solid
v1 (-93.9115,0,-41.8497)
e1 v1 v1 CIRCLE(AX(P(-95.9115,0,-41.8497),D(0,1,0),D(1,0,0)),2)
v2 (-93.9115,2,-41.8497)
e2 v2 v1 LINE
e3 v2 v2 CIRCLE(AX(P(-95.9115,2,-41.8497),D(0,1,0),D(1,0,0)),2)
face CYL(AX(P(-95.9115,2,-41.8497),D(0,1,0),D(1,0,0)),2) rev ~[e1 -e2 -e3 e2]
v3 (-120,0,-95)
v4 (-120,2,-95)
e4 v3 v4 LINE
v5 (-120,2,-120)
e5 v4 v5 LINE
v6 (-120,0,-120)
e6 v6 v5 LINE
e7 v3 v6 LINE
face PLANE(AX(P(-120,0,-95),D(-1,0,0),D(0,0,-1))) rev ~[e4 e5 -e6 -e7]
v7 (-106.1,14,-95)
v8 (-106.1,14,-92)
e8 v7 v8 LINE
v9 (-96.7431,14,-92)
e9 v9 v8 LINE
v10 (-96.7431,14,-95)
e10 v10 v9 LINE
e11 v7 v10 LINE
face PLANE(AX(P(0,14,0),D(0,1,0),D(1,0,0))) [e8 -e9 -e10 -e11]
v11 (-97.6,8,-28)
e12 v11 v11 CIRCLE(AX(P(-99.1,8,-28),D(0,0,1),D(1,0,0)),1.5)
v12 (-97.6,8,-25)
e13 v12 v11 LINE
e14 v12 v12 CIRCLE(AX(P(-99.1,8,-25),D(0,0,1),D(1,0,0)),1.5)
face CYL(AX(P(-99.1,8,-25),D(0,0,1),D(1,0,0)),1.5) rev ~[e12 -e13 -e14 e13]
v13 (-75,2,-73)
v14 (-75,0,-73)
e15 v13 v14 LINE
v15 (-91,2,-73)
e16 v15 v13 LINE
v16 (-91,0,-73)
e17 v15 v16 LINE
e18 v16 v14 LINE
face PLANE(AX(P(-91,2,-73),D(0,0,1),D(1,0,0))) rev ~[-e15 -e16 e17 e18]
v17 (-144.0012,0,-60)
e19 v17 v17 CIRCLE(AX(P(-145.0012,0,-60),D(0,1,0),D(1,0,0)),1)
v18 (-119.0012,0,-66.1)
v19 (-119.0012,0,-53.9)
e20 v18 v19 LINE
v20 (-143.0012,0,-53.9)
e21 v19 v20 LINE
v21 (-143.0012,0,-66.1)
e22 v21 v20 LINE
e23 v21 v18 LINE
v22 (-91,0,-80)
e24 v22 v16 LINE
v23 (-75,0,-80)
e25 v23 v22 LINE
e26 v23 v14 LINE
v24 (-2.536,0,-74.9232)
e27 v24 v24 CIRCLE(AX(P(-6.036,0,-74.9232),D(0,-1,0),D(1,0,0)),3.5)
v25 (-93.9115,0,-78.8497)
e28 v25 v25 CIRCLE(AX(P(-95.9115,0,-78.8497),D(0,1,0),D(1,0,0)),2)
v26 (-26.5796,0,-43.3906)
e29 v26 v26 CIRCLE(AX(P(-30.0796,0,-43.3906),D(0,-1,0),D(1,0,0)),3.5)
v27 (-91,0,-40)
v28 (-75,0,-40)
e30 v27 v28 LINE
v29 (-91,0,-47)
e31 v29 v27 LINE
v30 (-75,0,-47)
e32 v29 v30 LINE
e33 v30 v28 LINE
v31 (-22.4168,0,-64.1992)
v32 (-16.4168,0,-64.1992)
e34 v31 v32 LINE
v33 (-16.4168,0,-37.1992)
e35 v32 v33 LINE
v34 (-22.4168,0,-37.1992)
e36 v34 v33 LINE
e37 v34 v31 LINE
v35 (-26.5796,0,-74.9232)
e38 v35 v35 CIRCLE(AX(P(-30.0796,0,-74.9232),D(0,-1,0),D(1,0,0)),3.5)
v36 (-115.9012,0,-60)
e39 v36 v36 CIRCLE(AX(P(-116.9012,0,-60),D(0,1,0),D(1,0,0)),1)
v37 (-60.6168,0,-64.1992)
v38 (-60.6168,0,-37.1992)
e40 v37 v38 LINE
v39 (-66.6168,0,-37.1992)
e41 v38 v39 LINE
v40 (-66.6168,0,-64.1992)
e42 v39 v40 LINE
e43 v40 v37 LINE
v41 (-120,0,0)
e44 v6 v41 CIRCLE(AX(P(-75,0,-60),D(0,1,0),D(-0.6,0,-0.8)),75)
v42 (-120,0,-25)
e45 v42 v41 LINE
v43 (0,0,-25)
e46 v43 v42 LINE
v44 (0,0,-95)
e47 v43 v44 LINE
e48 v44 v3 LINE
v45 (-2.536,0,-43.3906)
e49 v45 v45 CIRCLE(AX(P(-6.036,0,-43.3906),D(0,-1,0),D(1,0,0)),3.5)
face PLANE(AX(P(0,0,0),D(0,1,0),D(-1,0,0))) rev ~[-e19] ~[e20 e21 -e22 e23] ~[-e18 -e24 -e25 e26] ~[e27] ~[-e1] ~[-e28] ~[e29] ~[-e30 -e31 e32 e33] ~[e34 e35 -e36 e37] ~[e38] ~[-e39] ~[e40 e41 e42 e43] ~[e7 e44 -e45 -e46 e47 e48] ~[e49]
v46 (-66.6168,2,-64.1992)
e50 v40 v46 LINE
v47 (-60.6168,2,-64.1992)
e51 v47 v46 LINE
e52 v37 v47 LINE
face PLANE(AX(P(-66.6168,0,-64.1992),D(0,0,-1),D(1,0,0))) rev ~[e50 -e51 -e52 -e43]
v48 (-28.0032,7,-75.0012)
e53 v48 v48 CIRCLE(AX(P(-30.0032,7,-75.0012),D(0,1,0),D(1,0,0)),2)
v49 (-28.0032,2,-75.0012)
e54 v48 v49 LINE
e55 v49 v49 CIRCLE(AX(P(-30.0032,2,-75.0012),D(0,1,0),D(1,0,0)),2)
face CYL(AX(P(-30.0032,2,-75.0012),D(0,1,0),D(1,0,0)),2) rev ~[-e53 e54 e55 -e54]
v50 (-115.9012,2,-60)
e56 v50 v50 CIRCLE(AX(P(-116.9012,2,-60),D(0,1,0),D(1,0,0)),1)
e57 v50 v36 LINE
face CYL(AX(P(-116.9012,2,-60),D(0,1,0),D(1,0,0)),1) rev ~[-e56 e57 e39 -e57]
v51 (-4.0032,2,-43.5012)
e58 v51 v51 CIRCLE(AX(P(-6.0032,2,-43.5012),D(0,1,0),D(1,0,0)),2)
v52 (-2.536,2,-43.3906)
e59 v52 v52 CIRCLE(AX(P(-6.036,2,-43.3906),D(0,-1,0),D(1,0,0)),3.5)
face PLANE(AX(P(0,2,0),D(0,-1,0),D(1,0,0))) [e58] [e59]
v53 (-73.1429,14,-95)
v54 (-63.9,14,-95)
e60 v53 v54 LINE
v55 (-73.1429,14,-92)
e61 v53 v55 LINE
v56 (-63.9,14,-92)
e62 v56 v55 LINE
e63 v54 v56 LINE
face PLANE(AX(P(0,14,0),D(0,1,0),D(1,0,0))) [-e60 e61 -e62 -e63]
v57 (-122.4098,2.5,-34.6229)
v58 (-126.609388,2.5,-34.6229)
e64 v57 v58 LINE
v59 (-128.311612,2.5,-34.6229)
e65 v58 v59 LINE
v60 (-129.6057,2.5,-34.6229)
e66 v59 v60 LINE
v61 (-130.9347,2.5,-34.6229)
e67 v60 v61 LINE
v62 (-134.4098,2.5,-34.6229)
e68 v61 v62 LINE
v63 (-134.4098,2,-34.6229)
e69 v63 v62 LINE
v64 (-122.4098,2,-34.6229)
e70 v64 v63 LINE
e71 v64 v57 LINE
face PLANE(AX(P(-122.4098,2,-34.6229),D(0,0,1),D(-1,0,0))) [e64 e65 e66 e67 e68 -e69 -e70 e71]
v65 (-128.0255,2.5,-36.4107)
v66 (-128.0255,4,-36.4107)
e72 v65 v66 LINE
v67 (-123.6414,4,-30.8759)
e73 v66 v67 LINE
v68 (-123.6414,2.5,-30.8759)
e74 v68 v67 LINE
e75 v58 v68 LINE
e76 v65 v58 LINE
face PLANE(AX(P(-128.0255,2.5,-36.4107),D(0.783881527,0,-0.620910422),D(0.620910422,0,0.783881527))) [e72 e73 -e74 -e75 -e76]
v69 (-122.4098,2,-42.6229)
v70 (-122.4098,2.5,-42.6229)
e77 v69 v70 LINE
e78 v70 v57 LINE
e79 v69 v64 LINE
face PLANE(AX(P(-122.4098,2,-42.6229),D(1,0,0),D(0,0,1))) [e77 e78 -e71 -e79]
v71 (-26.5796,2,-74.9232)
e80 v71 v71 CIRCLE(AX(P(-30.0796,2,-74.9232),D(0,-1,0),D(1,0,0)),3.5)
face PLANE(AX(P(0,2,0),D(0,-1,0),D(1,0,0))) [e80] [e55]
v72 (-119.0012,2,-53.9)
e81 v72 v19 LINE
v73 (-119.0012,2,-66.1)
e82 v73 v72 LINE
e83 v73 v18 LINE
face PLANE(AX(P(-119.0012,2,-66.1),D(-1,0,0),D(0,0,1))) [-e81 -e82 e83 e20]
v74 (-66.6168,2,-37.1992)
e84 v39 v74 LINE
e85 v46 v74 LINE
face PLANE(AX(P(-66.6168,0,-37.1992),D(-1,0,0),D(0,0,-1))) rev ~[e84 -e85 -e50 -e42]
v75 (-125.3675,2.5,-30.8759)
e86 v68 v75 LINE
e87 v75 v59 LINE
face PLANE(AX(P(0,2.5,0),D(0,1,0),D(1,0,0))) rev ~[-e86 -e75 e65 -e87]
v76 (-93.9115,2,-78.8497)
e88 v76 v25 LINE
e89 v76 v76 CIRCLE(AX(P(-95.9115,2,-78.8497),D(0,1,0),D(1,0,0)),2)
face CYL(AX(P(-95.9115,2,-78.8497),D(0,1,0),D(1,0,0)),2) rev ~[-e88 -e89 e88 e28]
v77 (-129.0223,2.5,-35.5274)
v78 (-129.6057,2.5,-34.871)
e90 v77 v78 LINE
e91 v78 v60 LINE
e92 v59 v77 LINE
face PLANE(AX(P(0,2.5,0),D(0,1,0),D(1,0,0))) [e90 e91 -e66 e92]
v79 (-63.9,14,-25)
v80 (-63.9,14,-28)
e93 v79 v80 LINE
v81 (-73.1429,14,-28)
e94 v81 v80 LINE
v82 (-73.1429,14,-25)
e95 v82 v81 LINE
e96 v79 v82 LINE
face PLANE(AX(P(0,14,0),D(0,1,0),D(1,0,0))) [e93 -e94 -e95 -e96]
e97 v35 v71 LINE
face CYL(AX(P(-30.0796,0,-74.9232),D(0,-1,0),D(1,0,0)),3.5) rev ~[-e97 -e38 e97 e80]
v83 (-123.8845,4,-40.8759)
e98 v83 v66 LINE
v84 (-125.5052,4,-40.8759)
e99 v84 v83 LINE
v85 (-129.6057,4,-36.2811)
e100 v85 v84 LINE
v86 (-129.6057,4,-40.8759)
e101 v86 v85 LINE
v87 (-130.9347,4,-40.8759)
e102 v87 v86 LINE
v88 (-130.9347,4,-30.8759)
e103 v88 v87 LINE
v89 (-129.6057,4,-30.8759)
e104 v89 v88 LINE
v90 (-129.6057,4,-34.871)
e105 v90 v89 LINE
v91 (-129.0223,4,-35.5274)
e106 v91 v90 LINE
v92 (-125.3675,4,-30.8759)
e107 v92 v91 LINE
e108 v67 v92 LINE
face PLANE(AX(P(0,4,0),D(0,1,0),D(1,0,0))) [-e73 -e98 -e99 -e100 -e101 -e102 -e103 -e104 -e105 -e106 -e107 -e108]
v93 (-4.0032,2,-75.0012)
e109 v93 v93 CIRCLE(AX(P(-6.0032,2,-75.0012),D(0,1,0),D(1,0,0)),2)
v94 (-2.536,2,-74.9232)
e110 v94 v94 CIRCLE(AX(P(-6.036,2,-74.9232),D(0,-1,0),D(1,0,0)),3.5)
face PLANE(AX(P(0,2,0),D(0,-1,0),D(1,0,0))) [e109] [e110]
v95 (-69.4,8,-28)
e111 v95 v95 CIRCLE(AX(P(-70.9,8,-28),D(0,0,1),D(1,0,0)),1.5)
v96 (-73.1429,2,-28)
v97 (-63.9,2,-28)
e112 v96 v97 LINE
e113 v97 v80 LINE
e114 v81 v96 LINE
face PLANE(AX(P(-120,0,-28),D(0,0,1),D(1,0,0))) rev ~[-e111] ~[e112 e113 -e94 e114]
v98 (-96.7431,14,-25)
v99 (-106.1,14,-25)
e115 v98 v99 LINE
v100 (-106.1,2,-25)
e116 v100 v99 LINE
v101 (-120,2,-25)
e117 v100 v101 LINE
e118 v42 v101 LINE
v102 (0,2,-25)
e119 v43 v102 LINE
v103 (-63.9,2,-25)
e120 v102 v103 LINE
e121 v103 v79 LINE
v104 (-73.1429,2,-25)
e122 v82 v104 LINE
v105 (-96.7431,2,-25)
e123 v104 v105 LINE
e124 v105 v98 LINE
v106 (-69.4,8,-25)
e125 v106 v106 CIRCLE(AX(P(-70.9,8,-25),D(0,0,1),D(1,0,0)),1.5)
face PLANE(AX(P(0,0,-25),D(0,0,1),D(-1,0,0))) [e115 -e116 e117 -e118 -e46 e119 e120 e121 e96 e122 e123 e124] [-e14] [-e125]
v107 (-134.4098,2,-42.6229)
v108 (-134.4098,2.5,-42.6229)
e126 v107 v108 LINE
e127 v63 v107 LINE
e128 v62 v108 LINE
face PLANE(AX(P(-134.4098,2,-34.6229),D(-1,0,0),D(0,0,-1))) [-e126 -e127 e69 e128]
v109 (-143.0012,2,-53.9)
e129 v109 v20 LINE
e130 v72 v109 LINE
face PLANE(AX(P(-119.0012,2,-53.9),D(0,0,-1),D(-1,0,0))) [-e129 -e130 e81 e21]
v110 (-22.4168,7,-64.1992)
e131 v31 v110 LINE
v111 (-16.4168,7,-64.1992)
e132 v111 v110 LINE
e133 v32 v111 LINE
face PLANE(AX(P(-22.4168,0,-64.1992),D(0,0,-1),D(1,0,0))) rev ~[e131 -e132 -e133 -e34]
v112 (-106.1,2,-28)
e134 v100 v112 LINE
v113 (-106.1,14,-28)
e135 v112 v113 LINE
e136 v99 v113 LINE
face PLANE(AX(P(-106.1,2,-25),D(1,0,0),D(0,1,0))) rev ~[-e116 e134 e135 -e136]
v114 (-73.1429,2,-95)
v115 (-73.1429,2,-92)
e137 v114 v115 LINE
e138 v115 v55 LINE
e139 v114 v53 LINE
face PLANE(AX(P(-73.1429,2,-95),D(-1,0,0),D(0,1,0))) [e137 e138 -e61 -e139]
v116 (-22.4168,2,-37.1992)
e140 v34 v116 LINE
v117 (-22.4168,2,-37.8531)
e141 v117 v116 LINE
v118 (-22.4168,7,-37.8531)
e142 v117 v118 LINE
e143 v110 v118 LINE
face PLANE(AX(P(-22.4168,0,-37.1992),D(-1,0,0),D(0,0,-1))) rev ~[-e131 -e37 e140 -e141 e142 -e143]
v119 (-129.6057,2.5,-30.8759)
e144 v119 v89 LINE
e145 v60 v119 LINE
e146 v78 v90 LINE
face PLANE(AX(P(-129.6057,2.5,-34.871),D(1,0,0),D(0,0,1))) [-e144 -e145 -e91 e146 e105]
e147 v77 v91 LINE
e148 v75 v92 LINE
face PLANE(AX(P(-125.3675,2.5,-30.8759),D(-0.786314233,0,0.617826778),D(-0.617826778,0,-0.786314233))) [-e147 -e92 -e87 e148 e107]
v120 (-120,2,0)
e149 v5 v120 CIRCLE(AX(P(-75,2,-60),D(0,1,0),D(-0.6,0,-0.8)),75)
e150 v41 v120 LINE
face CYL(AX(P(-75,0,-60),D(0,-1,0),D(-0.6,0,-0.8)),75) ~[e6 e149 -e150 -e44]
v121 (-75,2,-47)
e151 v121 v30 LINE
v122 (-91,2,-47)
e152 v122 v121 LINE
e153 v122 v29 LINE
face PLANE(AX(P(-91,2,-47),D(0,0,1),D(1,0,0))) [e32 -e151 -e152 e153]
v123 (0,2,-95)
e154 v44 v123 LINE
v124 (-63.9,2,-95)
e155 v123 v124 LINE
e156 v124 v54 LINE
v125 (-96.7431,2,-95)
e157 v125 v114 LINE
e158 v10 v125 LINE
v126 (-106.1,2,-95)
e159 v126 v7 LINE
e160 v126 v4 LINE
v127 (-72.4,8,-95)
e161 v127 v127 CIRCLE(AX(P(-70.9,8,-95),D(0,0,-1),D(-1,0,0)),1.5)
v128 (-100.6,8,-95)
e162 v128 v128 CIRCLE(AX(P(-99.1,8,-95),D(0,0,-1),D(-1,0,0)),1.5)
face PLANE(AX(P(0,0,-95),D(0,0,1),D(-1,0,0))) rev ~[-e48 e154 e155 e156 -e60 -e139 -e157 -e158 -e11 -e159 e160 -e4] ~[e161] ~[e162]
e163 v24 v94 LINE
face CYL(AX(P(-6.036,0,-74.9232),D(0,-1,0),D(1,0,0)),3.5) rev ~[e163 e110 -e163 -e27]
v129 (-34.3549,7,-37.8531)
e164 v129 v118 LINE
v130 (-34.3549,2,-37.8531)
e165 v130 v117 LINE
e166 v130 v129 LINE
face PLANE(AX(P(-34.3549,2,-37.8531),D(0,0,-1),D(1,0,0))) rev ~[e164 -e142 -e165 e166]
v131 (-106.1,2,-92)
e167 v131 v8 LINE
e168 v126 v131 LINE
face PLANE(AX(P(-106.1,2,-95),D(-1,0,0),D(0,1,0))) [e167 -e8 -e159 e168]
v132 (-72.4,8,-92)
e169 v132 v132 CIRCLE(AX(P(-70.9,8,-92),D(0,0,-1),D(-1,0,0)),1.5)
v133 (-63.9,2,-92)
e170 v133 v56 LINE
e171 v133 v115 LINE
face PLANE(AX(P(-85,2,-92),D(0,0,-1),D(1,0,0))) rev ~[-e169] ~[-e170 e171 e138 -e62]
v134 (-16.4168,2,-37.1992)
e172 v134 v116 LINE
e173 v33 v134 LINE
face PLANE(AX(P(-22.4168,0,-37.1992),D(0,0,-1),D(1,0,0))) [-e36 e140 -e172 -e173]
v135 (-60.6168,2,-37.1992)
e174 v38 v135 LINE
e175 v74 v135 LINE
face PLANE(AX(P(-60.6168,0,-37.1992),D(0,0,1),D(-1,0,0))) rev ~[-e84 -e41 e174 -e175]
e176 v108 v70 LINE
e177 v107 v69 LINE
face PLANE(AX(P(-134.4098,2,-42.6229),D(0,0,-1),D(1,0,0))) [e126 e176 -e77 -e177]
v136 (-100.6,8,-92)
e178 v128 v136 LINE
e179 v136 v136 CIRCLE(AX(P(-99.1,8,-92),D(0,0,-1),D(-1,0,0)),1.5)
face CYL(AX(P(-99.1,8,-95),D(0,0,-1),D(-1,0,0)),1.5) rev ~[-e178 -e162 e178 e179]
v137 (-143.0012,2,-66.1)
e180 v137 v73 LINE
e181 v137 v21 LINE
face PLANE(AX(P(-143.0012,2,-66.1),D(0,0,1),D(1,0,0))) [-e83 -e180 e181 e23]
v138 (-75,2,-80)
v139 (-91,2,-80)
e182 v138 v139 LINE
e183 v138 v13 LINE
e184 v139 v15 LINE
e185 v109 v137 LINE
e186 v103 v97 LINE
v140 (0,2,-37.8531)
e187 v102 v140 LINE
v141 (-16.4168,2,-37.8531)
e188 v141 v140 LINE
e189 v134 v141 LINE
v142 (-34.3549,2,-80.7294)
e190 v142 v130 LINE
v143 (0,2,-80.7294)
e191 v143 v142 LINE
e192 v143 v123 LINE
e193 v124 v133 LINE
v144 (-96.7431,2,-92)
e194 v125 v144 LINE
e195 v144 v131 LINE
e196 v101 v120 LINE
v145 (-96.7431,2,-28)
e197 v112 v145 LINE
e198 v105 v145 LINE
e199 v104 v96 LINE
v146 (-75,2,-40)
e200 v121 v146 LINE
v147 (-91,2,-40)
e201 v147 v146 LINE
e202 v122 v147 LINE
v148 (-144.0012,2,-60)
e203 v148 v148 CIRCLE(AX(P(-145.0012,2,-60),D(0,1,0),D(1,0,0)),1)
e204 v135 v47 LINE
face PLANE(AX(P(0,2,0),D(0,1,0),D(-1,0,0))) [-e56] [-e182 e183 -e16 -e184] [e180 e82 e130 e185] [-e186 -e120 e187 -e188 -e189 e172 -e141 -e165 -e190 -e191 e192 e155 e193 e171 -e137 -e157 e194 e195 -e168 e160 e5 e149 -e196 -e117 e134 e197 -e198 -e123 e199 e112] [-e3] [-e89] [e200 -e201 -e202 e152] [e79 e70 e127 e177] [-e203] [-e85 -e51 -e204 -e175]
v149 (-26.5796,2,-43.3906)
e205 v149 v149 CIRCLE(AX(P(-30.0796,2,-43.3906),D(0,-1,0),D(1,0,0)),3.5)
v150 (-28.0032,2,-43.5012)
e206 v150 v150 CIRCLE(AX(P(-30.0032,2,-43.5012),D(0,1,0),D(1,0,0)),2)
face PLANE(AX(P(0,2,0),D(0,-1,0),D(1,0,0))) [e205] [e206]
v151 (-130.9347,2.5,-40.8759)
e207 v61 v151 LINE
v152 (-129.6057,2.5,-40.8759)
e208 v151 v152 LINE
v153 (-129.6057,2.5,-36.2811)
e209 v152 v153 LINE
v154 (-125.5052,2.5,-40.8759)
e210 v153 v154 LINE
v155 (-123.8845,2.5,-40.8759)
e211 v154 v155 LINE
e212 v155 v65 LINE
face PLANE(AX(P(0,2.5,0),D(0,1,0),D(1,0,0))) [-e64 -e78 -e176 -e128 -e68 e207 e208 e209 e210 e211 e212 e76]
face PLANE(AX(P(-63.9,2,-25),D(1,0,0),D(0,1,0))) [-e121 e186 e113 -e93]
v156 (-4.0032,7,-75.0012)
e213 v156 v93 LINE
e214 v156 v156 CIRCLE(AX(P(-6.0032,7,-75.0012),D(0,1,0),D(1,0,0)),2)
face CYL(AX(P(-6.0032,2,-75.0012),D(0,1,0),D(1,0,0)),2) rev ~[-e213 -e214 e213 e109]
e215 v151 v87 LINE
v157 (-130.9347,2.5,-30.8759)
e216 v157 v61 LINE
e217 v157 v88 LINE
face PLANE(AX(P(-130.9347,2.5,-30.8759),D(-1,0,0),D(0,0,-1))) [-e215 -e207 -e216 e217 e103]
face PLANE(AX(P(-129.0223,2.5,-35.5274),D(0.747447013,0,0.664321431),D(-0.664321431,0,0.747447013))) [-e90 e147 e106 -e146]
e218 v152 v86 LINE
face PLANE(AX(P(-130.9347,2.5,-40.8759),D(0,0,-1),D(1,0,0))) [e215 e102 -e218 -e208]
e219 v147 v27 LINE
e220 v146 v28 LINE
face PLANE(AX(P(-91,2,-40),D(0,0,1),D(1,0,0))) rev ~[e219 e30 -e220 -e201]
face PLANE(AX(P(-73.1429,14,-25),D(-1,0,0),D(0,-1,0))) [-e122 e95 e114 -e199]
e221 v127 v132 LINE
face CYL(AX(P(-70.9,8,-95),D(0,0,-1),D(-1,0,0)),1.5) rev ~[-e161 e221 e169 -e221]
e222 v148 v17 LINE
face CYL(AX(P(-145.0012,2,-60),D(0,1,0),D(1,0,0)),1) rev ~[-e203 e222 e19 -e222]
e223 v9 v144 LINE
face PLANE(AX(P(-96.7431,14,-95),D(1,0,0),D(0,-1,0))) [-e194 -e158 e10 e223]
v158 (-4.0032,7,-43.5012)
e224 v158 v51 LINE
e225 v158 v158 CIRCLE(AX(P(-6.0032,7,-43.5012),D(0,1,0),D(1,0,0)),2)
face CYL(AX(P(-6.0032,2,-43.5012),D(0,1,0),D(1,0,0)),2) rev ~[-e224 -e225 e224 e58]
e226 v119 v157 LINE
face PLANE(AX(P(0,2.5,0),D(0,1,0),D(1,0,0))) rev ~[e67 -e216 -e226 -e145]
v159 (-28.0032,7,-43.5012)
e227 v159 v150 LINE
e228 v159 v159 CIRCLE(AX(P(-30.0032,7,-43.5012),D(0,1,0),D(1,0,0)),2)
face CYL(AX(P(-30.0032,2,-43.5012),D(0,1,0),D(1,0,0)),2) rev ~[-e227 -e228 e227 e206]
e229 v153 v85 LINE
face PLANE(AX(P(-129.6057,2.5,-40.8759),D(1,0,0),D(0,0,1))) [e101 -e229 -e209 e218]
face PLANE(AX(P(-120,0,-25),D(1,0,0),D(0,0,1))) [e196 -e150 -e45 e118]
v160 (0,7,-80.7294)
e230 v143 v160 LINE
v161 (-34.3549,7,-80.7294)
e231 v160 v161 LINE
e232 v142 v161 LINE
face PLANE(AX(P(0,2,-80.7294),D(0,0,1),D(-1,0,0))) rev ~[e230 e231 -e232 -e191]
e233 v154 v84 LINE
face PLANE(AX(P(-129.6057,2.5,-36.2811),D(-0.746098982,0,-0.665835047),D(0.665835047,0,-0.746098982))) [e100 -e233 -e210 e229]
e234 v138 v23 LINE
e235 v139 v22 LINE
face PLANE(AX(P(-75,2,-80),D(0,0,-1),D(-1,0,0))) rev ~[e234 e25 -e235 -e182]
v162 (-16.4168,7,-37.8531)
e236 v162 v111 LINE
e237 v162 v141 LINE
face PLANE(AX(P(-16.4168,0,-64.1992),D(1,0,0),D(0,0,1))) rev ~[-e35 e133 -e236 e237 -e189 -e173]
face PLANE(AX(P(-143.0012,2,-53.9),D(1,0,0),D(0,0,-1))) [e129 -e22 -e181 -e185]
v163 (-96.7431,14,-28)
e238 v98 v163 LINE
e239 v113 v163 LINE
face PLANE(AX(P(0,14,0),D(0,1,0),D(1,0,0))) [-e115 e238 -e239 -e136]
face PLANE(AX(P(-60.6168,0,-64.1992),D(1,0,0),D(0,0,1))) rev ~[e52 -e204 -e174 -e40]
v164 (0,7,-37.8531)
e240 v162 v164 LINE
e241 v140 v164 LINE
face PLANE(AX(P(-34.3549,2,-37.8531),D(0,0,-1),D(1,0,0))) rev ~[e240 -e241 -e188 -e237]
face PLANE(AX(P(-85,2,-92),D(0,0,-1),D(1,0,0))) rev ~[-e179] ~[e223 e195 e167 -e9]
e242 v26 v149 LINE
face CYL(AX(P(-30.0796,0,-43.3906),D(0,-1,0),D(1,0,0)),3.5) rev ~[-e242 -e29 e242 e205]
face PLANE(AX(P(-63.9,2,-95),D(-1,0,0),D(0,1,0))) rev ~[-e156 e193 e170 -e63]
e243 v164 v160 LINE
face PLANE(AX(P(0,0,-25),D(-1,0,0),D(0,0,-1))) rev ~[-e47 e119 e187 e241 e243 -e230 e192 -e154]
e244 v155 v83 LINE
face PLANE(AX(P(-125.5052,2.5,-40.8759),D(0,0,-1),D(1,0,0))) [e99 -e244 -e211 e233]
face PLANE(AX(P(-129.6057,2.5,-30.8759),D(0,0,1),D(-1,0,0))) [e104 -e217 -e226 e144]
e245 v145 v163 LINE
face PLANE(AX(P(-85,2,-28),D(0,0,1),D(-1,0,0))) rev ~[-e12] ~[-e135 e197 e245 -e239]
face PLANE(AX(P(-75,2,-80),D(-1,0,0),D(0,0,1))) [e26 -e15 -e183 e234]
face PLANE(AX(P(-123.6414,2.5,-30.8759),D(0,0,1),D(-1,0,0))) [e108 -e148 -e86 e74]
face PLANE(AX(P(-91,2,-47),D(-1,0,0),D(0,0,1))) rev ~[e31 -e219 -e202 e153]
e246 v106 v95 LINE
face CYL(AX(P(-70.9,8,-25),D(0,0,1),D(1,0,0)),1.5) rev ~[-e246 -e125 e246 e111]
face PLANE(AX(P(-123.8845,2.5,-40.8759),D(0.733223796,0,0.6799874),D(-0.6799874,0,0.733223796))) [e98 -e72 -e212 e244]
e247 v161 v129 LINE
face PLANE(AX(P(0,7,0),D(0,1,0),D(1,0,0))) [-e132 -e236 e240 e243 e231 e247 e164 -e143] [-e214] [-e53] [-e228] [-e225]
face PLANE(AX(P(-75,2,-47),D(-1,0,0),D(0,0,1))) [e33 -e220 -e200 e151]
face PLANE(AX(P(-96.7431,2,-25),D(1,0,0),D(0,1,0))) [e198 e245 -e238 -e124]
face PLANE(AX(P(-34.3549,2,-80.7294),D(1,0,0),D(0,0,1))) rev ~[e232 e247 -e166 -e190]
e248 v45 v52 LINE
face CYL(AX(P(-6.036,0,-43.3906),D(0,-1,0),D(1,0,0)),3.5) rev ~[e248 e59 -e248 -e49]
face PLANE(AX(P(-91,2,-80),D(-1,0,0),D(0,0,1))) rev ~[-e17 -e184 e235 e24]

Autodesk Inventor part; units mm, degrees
ref_plane "YZ Plane" through (0, 0, 0) normal (1, 0, 0) x (0, 1, 0)
ref_plane "XZ Plane" through (0, 0, 0) normal (0, 1, 0) x (-1, 0, 0)
ref_plane "XY Plane" through (0, 0, 0) normal (0, 0, 1) x (1, 0, 0)
sketch "Sketch1" plane through (0, 0, 0) normal (0, 1, 0) x (-1, 0, 0)
  line L0 (0, -60) -> (150, -60) construction
  line L1 (75, 0) -> (75, -120) construction
  line L2 (150, 0) -> (120, 0) construction
  line L3 (120, 0) -> (120, -120) construction
  line L4 (120, -120) -> (150, -120) construction
  arc A0 (120, -120) -> (120, 0) centre (75, -60) ccw
  line L5 (0, -25) -> (120, -25)
  line L6 (120, -25) -> (120, 0)
  line L7 (0, -95) -> (120, -95)
  line L8 (120, -95) -> (120, -120)
  line L9 (0, -25) -> (0, -95)
  point P0 (0, 0)
  dimension "d2" = 30
  dimension "d4" = 120
  dimension "d6" = 120
  dimension "d7" = 75
  dimension "d8" = 60
  dimension "d9" = 95
  dimension "d10" = 25
  dimension "d11" = 0
  dimension "d12" = 120
  dimension "d13" = 30
  dimension "d14" = 30
  dimension "d15" = 0
  dimension "d16" = 120
extrude "Extrusion1" add sketch "Sketch1" along normal blind 2
sketch "Sketch2" plane through (0, 2, 0) normal (0, 1, 0) x (1, 0, 0)
  line L0 (0, 25) -> (0, 95) construction
  line L1 (0, 60) -> (-150, 60) construction
  arc A0 (-120, 120) -> (-120, 0) centre (-75, 60) ccw construction
  line L2 (-117.4507, 52.0399) -> (-117.4507, 68.4308) construction
  line L3 (-114.9012, 60) -> (-114.9012, 66.1) construction
  line L4 (-114.9012, 66.1) -> (-147.0012, 66.1) construction
  line L5 (-147.0012, 66.1) -> (-147.0012, 53.9) construction
  line L6 (-114.9012, 53.9) -> (-114.9012, 60) construction
  line L7 (-147.0012, 60) -> (-147.0012, 62) construction
  line L8 (-147.0012, 62) -> (-143.0012, 62) construction
  line L9 (-143.0012, 62) -> (-143.0012, 58) construction
  line L10 (-143.0012, 58) -> (-147.0012, 58) construction
  line L11 (-147.0012, 60) -> (-147.0012, 58) construction
  line L12 (-143.0012, 58) -> (-147.0012, 62) construction
  line L13 (-143.0012, 62) -> (-147.0012, 58) construction
  circle A1 centre (-145.0012, 60) radius 1
  line L14 (-114.9012, 60) -> (-114.9012, 62) construction
  line L15 (-114.9012, 62) -> (-118.9012, 62) construction
  line L16 (-118.9012, 62) -> (-118.9012, 58) construction
  line L17 (-118.9012, 58) -> (-114.9012, 58) construction
  line L18 (-118.9012, 62) -> (-114.9012, 62) construction
  line L19 (-114.9012, 58) -> (-114.9012, 62) construction
  line L20 (-114.9012, 58) -> (-118.9012, 62) construction
  line L21 (-114.9012, 62) -> (-118.9012, 58) construction
  circle A2 centre (-116.9012, 60) radius 1
  line L22 (-145.0012, 60) -> (-116.9012, 60) construction
  line L23 (-143.0012, 66.0861) -> (-118.9012, 66.1)
  line L24 (-118.9012, 66.1) -> (-118.8942, 54)
  line L25 (-118.8942, 54) -> (-142.9942, 54)
  line L26 (-142.9942, 54) -> (-142.9942, 66.1)
  point P0 (0, 0)
  dimension "d22" = 117.4507
  dimension "d103" = 32.1
  dimension "d104" = 12.2
  dimension "d105" = 32.1
  dimension "d106" = 2
  dimension "d107" = 4
  dimension "d108" = 4
  dimension "d109" = 2
  dimension "d113" = 2
  dimension "d114" = 28.1
  dimension "d116" = 114.9012
  dimension "d117" = 2
  dimension "d118" = 118.9012
  dimension "d119" = 8.4308
  dimension "d120" = 7.9601
  dimension "d124" = 24.1
  dimension "d125" = 12.1
  dimension "d127" = 0.033
  dimension "d128" = 24.1
  dimension "d129" = 12.1
sketch "Sketch3" plane through (0, 2, 0) normal (0, 1, 0) x (1, 0, 0)
  line L0 (0, 25) -> (0, 95) construction
  line L1 (0, 60) -> (-150, 60) construction
  circle A0 centre (-30.0032, 43.5012) radius 2
  circle A1 centre (-30.0032, 75.0012) radius 2
  circle A2 centre (-6.0032, 75.0012) radius 2
  circle A3 centre (-6.0032, 43.5012) radius 2
  line L2 (-30.0032, 43.5012) -> (-30.0032, 75.0012) construction
  line L3 (-6.0032, 43.5012) -> (-6.0032, 75.0012) construction
  line L4 (-30.0032, 43.5012) -> (-6.0032, 43.5012) construction
  line L5 (-30.0032, 75.0012) -> (-6.0032, 75.0012) construction
  point P0 (0, 0)
  dimension "d29" = 150
  dimension "d36" = 4
  dimension "d37" = 4
  dimension "d41" = 31.5
  dimension "d42" = 31.5
  dimension "d43" = 24
  dimension "d44" = 24
  dimension "d45" = 6.0032
  dimension "d46" = 16.4988
extrude "Extrusion3" cut sketch "Sketch3" against normal blind 11
sketch "Sketch4" plane through (0, 2, 0) normal (0, 1, 0) x (1, 0, 0)
  line L0 (0, 95) -> (-120, 95) construction
  line L1 (-120, 25) -> (-50, 25) construction
  line L2 (-50, 25) -> (-50, 95) construction
  line L3 (-50, 95) -> (-120, 95) construction
  line L4 (-120, 95) -> (-120, 25) construction
  line L5 (-120, 95) -> (-50, 95) construction
  line L6 (-50, 95) -> (-50, 85) construction
  line L7 (-120, 85) -> (-120, 95) construction
  line L8 (-50, 25) -> (-50, 35) construction
  line L9 (-120, 35) -> (-120, 25) construction
  line L10 (-120, 30) -> (-50, 30) construction
  line L11 (-75, 80) -> (-91, 80)
  line L12 (-91, 40) -> (-75, 40)
  line L13 (-85, 95) -> (-85, 73) construction
  line L14 (-91, 73) -> (-75, 73)
  line L15 (-75, 73) -> (-75, 80) construction
  line L16 (-91, 80) -> (-91, 73)
  line L17 (-75, 80) -> (-75, 73)
  line L18 (-75, 73) -> (-75, 25) construction
  line L19 (-91, 47) -> (-75, 47)
  line L20 (-91, 47) -> (-91, 40)
  line L21 (-75, 47) -> (-75, 40)
  line L22 (-85, 73) -> (-85, 25) construction
  line L23 (-75, 80) -> (-75, 95) construction
  line L24 (-91, 80) -> (-91, 95) construction
  line L25 (-85, 95) -> (-91, 95)
  line L26 (-91, 95) -> (-91, 92.5)
  line L27 (-91, 92.5) -> (-79, 92.5)
  line L28 (-79, 92.5) -> (-79, 95)
  line L29 (-85, 25) -> (-91, 25)
  line L30 (-120, 25) -> (0, 25) projected
  line L31 (-91, 25) -> (-91, 27.5)
  line L32 (-91, 27.5) -> (-79, 27.5)
  line L33 (-79, 27.5) -> (-79, 25)
  line L34 (-85, 25) -> (-79, 25)
  line L35 (-79, 27.5) -> (-91, 27.5)
  line L36 (-75, 40) -> (-70, 40)
  line L37 (-70, 40) -> (-70, 47)
  line L38 (-70, 47) -> (-75, 47)
  line L39 (-75, 73) -> (-69.9974, 73)
  line L40 (-69.9974, 73) -> (-69.9974, 80)
  line L41 (-69.9974, 80) -> (-75, 80)
  point P0 (0, 0)
  dimension "d49" = 70
  dimension "d51" = 10
  dimension "d52" = 10
  dimension "d70" = 6
  dimension "d71" = 2.5
  dimension "d72" = 12
  dimension "d73" = 6
  dimension "d74" = 2.5
  dimension "d75" = 12
  dimension "d76" = 55
  dimension "d77" = 22
  dimension "d78" = 65
  dimension "d79" = 0
  dimension "d80" = 25
  dimension "d81" = 70
  dimension "d219" = 5
  dimension "d220" = 7
  dimension "d221" = 16
  dimension "d222" = 16
extrude "Extrusion5" cut sketch "Sketch4" against normal blind 3 contours L17 L14 L16 L11 | L20 L19 L21 L12
sketch "Sketch5" plane through (0, 2, 0) normal (0, 1, 0) x (1, 0, 0)
  line L0 (-120, 25) -> (0, 25) construction
  line L1 (-85, 25) -> (-85, 95) construction
  line L2 (0, 95) -> (-120, 95) construction
  line L3 (-85, 25) -> (-91, 25)
  line L4 (-85, 25) -> (-79, 25)
  line L5 (-85, 95) -> (-91, 95)
  line L6 (-85, 95) -> (-79, 95)
  line L7 (-85, 28) -> (-101.1, 28)
  line L8 (-85, 28) -> (-68.9, 28)
  line L9 (-85, 92) -> (-101.1, 92)
  line L10 (-85, 92) -> (-68.9, 92)
  line L11 (-68.9, 92) -> (-68.9, 95)
  line L12 (0, 95) -> (-120, 95) projected
  line L13 (-101.1, 92) -> (-101.1, 95)
  line L14 (-68.9, 95) -> (-101.1, 95)
  line L15 (-101.1, 28) -> (-101.1, 25)
  line L16 (-68.9, 25) -> (-101.1, 25)
  line L17 (-68.9, 28) -> (-68.9, 25)
  point P0 (0, 0)
  dimension "d84" = 6
  dimension "d157" = 16.1
  dimension "d158" = 16.1
  dimension "d159" = 16.1
  dimension "d160" = 16.1
  dimension "d169" = 90
  dimension "d170" = 90
  dimension "d171" = 67
  dimension "d172" = 3
  dimension "d173" = 0
  dimension "d174" = 16.1
  dimension "d175" = 68.9
  dimension "d176" = 10.1
  dimension "d177" = 10.1
  dimension "d178" = 22.1
extrude "Extrusion6" add sketch "Sketch5" along normal blind 12
sketch "Sketch6" plane through (-120, 0, -25) normal (0, 0, 1) x (1, 0, 0)
  line L0 (120, 0) -> (0, 0) construction
  line L1 (18.9, 2) -> (51.1, 2) construction
  line L2 (18.9, 2) -> (18.9, 14) construction
  line L3 (18.9, 8) -> (51.1, 8) construction
  line L4 (51.1, 2) -> (51.1, 14) construction
  line L5 (18.9, 8) -> (19.4, 8) construction
  line L6 (19.4, 8) -> (19.4, 14) construction
  line L7 (19.4, 8) -> (19.4, 2) construction
  line L8 (51.1, 2) -> (18.9, 2) construction
  line L9 (51.1, 8) -> (50.6, 8) construction
  line L10 (50.6, 8) -> (50.6, 14) construction
  line L11 (50.6, 14) -> (50.6, 2) construction
  line L12 (19.4, 8) -> (20.9, 8) construction
  circle A0 centre (20.9, 8) radius 1.5
  line L13 (50.6, 8) -> (49.1, 8) construction
  circle A1 centre (49.1, 8) radius 1.5
  dimension "d162" = 0.5
  dimension "d163" = 0.5
  dimension "d164" = 1.5
  dimension "d165" = 3
  dimension "d166" = 1.5
  dimension "d167" = 3
  dimension "d168" = 32.2
  dimension "d179" = 14
  dimension "d180" = 14
extrude "Extrusion7" cut sketch "Sketch6" against normal blind 3
sketch "Sketch7" plane through (0, 0, -95) normal (0, 0, -1) x (-1, 0, 0)
  line L0 (120, 0) -> (0, 0) construction
  line L1 (68.9, 2) -> (101.1, 2) construction
  line L2 (68.9, 2) -> (101.1, 2) construction
  line L3 (68.9, 2) -> (68.9, 14) construction
  line L4 (68.9, 8) -> (101.1, 8) construction
  circle A0 centre (70.9, 8) radius 1.5 projected
  circle A1 centre (70.9, 8) radius 1.5
  circle A2 centre (99.1, 8) radius 1.5 projected
  circle A3 centre (99.1, 8) radius 1.5
extrude "Extrusion8" cut sketch "Sketch7" against normal blind 3
extrude "Extrusion9" cut sketch "Sketch2" against normal blind 3 contours A1 | A2
sketch "Sketch9" plane through (0, 2, 0) normal (0, 1, 0) x (1, 0, 0)
  circle A0 centre (-116.9012, 60) radius 1 construction
  circle A1 centre (-145.0012, 60) radius 1 construction
  line L0 (-116.9012, 60) -> (-145.0012, 60) construction
  line L1 (-145.0012, 60) -> (-150, 60) construction
  arc A2 (-120, 120) -> (-120, 0) centre (-75, 60) ccw construction
  line L2 (-144.0012, 60) -> (-143.0012, 60) construction
  line L3 (-143.0012, 60) -> (-143.0012, 66.1)
  line L4 (-143.0012, 66.1) -> (-119.0012, 66.1)
  line L5 (-119.0012, 66.1) -> (-119.0012, 53.9)
  line L6 (-119.0012, 53.9) -> (-143.0012, 53.9)
  line L7 (-143.0012, 53.9) -> (-143.0012, 60)
  point P0 (0, 0)
  dimension "d130" = 1
  dimension "d131" = 6.1
  dimension "d132" = 24
  dimension "d133" = 12.2
extrude "Extrusion10" cut sketch "Sketch9" against normal blind 2
sketch "Sketch10" plane through (0, 2, 0) normal (0, 1, 0) x (1, 0, 0)
  line L0 (0, 25) -> (0, 95) projected
  line L1 (-34.3549, 37.8531) -> (0, 37.8531)
  line L2 (0, 37.8531) -> (0, 80.7294)
  line L3 (0, 80.7294) -> (-34.3549, 80.7294)
  line L4 (-34.3549, 80.7294) -> (-34.3549, 37.8531)
  circle A0 centre (-30.0032, 43.5012) radius 2 projected
  circle A1 centre (-30.0032, 43.5012) radius 2
  circle A2 centre (-30.0032, 75.0012) radius 2 projected
  circle A3 centre (-30.0032, 75.0012) radius 2
  circle A4 centre (-6.0032, 43.5012) radius 2 projected
  circle A5 centre (-6.0032, 43.5012) radius 2
  circle A6 centre (-6.0032, 75.0012) radius 2.1402
  point P0 (0, 0)
  dimension "d136" = 34.3548
  dimension "d137" = 42.8763
  dimension "d138" = 14.2706
  dimension "d147" = 4.2805
  dimension "d148" = 4
  dimension "d149" = 4
  dimension "d150" = 4
  dimension "d151" = 6.0032
  dimension "d152" = 5.7282
extrude "Extrusion11" add sketch "Sketch10" along normal blind 5 contours L1 L4 L3 L0 | A0 | A2 | A4 | A6
sketch "Sketch11" plane through (0, 7, 0) normal (0, 1, 0) x (1, 0, 0)
  circle A0 centre (-30.0032, 43.5012) radius 2 projected
  circle A1 centre (-30.0032, 43.5012) radius 2
  circle A2 centre (-30.0032, 75.0012) radius 2 projected
  circle A3 centre (-30.0032, 75.0012) radius 2
  circle A4 centre (-6.0032, 43.5012) radius 2 projected
  circle A5 centre (-6.0032, 43.5012) radius 2
  circle A6 centre (-6.0032, 75.0012) radius 2 projected
  circle A7 centre (-6.0032, 75.0012) radius 2
  point P0 (0, 0)
extrude "Extrusion12" cut sketch "Sketch11" against normal blind 11
sketch "Sketch13" plane through (0, 2, 0) normal (0, 1, 0) x (1, 0, 0)
  point P0 (0, 0)
sketch "Sketch14" plane through (0, 2, 0) normal (0, 1, 0) x (1, 0, 0)
  line L0 (-122.4098, 34.6229) -> (-134.4098, 34.6229)
  line L1 (-134.4098, 34.6229) -> (-134.4098, 42.6229)
  line L2 (-134.4098, 42.6229) -> (-122.4098, 42.6229)
  line L3 (-122.4098, 42.6229) -> (-122.4098, 34.6229)
  point P0 (0, 0)
  dimension "d183" = 12
  dimension "d184" = 8
extrude "Extrusion14" add sketch "Sketch14" along normal blind 0.5
sketch "Sketch16" plane through (0, 2.5, 0) normal (0, 1, 0) x (1, 0, 0)
  line L0 (-130.4881, 40.8759) -> (-125.3198, 40.8759) construction
  line L1 (-125.3198, 40.8759) -> (-125.3198, 24.6109) construction
  line L2 (-125.3198, 24.6109) -> (-130.4881, 24.6109) construction
  line L3 (-130.4881, 24.6109) -> (-130.4881, 40.8759) construction
  line L4 (-123.6414, 30.8759) -> (-125.3675, 30.8759)
  line L5 (-125.3675, 30.8759) -> (-129.0223, 35.5274)
  line L6 (-129.0223, 35.5274) -> (-129.6057, 34.871)
  line L7 (-129.6057, 34.871) -> (-129.6057, 30.8759)
  line L8 (-129.6057, 30.8759) -> (-130.9347, 30.8759)
  line L9 (-130.9347, 30.8759) -> (-130.9347, 40.8759)
  line L10 (-130.9347, 40.8759) -> (-129.6057, 40.8759)
  line L11 (-129.6057, 40.8759) -> (-129.6057, 36.2811)
  line L12 (-129.6057, 36.2811) -> (-125.5052, 40.8759)
  line L13 (-125.5052, 40.8759) -> (-123.8845, 40.8759)
  line L14 (-123.8845, 40.8759) -> (-128.0255, 36.4107)
  line L15 (-128.0255, 36.4107) -> (-123.6414, 30.8759)
  point P0 (0, 0)
  dimension "d270" = 5.1682
  dimension "d271" = 16.265
  dimension "d272" = 125.3198
  dimension "d273" = 40.8759
extrude "Extrusion15" add sketch "Sketch16" along normal blind 1.5
sketch "Sketch17" plane through (-120, 0, -25) normal (0, 0, 1) x (1, 0, 0)
  line L0 (18.9, 14) -> (51.1, 14) projected
  line L1 (23.2569, 14) -> (46.8571, 14)
  line L2 (46.8571, 14) -> (46.8571, 2)
  line L3 (46.8571, 2) -> (23.2569, 2)
  line L4 (23.2569, 2) -> (23.2569, 14)
  point P0 (120, 0)
  dimension "d189" = 12
  dimension "d190" = 23.6002
  dimension "d191" = 73.1429
extrude "Extrusion16" cut sketch "Sketch17" against normal blind 3
sketch "Sketch18" plane through (-120, 0, -25) normal (0, 0, 1) x (1, 0, 0)
  line L0 (18.9, 2) -> (13.9, 2)
  line L1 (13.9, 2) -> (13.9, 14)
  line L2 (13.9, 14) -> (18.9, 14)
  line L3 (18.9, 14) -> (18.9, 2)
  line L4 (51.1, 2) -> (56.1, 2)
  line L5 (56.1, 2) -> (56.1, 14)
  line L6 (56.1, 14) -> (51.1, 14)
  line L7 (51.1, 14) -> (51.1, 2)
  point P0 (120, 0)
  dimension "d194" = 5
  dimension "d195" = 12
  dimension "d196" = 5
  dimension "d197" = 12
extrude "Extrusion17" add sketch "Sketch18" against normal blind 3
sketch "Sketch19" plane through (0, 0, -95) normal (0, 0, -1) x (-1, 0, 0)
  line L0 (73.1429, 14) -> (96.7431, 14)
  line L1 (96.7431, 14) -> (96.7431, 2)
  line L2 (96.7431, 2) -> (73.1429, 2)
  line L3 (73.1429, 2) -> (73.1429, 14)
  point P0 (0, 0)
extrude "Extrusion18" cut sketch "Sketch19" against normal blind 3
sketch "Sketch20" plane through (0, 0, -95) normal (0, 0, -1) x (-1, 0, 0)
  line L0 (68.9, 2) -> (63.9, 2)
  line L1 (63.9, 2) -> (63.9, 14)
  line L2 (63.9, 14) -> (68.9, 14)
  line L3 (68.9, 14) -> (68.9, 2)
  line L4 (101.1, 2) -> (106.1, 2)
  line L5 (106.1, 2) -> (106.1, 14)
  line L6 (106.1, 14) -> (101.1, 14)
  line L7 (101.1, 14) -> (101.1, 2)
  point P0 (0, 0)
extrude "Extrusion19" add sketch "Sketch20" against normal blind 3
sketch "Sketch21" plane through (0, 0, 0) normal (0, -1, 0) x (1, 0, 0)
  circle A0 centre (-6.036, -74.9232) radius 3.5
  circle A1 centre (-30.0796, -74.9232) radius 3.5
  circle A2 centre (-30.0796, -43.3906) radius 3.5
  circle A3 centre (-6.036, -43.3906) radius 3.5
  point P0 (0, 0)
  dimension "d204" = 7
  dimension "d205" = 7
  dimension "d206" = 7
  dimension "d207" = 7
extrude "Extrusion20" cut sketch "Sketch21" against normal blind 2
sketch "Sketch22" plane through (0, 2, 0) normal (0, 1, 0) x (1, 0, 0)
  line L0 (-78.4615, 36.6997) -> (-113.3615, 36.6997) construction
  line L1 (-113.3615, 36.6997) -> (-113.3615, 83.9997) construction
  line L2 (-113.3615, 83.9997) -> (-78.4615, 83.9997) construction
  line L3 (-78.4615, 83.9997) -> (-78.4615, 36.6997) construction
  line L4 (-78.4615, 60.3497) -> (-113.3615, 60.3497) construction
  circle A0 centre (-95.9115, 41.8497) radius 2
  circle A1 centre (-95.9115, 78.8497) radius 2
  line L5 (-17.2206, 25.8993) -> (-68.7206, 25.8993) construction
  line L6 (-68.7206, 25.8993) -> (-68.7206, 93.3993) construction
  line L7 (-68.7206, 93.3993) -> (-17.2206, 93.3993) construction
  line L8 (-17.2206, 93.3993) -> (-17.2206, 25.8993) construction
  line L9 (-68.7206, 93.3993) -> (-62.4206, 93.3993) construction
  line L10 (-62.4206, 93.3993) -> (-62.4206, 56.4993) construction
  line L11 (-62.4206, 56.4993) -> (-68.7206, 56.4993) construction
  line L12 (-68.7206, 56.4993) -> (-67.2206, 56.4993) construction
  line L13 (-67.2206, 56.4993) -> (-61.2206, 56.4993)
  line L14 (-61.2206, 56.4993) -> (-61.2206, 83.4993)
  line L15 (-67.2206, 56.4993) -> (-67.2206, 83.4993)
  line L16 (-67.2206, 83.4993) -> (-61.2206, 83.4993)
  line L17 (-17.2206, 83.4993) -> (-61.2206, 83.4993) construction
  line L18 (-18.6258, 83.4993) -> (-24.6258, 83.4993)
  line L19 (-24.6258, 83.4993) -> (-24.6258, 56.4993)
  line L20 (-24.6258, 56.4993) -> (-18.6258, 56.4993)
  line L21 (-18.6258, 56.4993) -> (-18.6258, 83.4993)
  point P0 (0, 0)
  dimension "d210" = 34.9
  dimension "d211" = 47.3
  dimension "d213" = 4
  dimension "d215" = 4
  dimension "d216" = 37
  dimension "d223" = 67.5
  dimension "d224" = 51.5
  dimension "d225" = 6.3
  dimension "d226" = 36.9
  dimension "d227" = 1.5
  dimension "d228" = 6
  dimension "d229" = 27
  dimension "d236" = 27
  dimension "d237" = 6
  dimension "d238" = 1.4052
  dimension "d239" = 61.2409
  dimension "d240" = 0.5004
  dimension "d241" = 17.2206
  dimension "d242" = 83.4993
  dimension "d243" = 78.6909
  dimension "d244" = 4.6495
  dimension "d245" = 78.6909
extrude "Extrusion21" cut sketch "Sketch22" against normal blind 3 contours A0 | A1
sketch "Sketch23" plane through (0, 0, 0) normal (0, -1, 0) x (1, 0, 0)
  line L0 (-20.0168, -94.1992) -> (-68.1168, -94.1992) construction
  line L1 (-68.1168, -94.1992) -> (-68.1168, -26.6992) construction
  line L2 (-68.1168, -26.6992) -> (-20.0168, -26.6992) construction
  line L3 (-20.0168, -26.6992) -> (-20.0168, -94.1992) construction
  line L4 (-68.1168, -26.6992) -> (-66.6168, -26.6992) construction
  line L5 (-66.6168, -26.6992) -> (-66.6168, -64.1992) construction
  line L6 (-66.6168, -64.1992) -> (-60.6168, -64.1992)
  line L7 (-60.6168, -64.1992) -> (-60.6168, -37.1992)
  line L8 (-60.6168, -37.1992) -> (-66.6168, -37.1992)
  line L9 (-66.6168, -37.1992) -> (-66.6168, -64.1992)
  line L10 (-60.6168, -64.1992) -> (-20.0168, -64.1992) construction
  line L11 (-20.0168, -37.1992) -> (-21.5168, -37.1992) construction
  line L12 (-60.6168, -37.1992) -> (-22.4168, -37.1992) construction
  line L13 (-22.4168, -37.1992) -> (-16.4168, -37.1992)
  line L14 (-63.9, -25) -> (0, -25) construction
  line L15 (-22.4168, -37.1992) -> (-22.4168, -64.1992)
  line L16 (-22.4168, -64.1992) -> (-16.4168, -64.1992)
  line L17 (-16.4168, -64.1992) -> (-16.4168, -37.1992)
  point P0 (0, 0)
  dimension "d248" = 67.5
  dimension "d249" = 48.1
  dimension "d250" = 1.5
  dimension "d251" = 37.5
  dimension "d252" = 6
  dimension "d253" = 27
  dimension "d254" = 6
  dimension "d260" = 38.2
  dimension "d261" = 6
  dimension "d262" = 6
  dimension "d263" = 90
  dimension "d264" = 12.1992
  dimension "d265" = 16.4168
  dimension "d266" = 37.1992
  dimension "d267" = 5.1
extrude "Extrusion22" cut sketch "Sketch23" against normal blind 8
properties part number "chasis_robot_kedama_rev6"
